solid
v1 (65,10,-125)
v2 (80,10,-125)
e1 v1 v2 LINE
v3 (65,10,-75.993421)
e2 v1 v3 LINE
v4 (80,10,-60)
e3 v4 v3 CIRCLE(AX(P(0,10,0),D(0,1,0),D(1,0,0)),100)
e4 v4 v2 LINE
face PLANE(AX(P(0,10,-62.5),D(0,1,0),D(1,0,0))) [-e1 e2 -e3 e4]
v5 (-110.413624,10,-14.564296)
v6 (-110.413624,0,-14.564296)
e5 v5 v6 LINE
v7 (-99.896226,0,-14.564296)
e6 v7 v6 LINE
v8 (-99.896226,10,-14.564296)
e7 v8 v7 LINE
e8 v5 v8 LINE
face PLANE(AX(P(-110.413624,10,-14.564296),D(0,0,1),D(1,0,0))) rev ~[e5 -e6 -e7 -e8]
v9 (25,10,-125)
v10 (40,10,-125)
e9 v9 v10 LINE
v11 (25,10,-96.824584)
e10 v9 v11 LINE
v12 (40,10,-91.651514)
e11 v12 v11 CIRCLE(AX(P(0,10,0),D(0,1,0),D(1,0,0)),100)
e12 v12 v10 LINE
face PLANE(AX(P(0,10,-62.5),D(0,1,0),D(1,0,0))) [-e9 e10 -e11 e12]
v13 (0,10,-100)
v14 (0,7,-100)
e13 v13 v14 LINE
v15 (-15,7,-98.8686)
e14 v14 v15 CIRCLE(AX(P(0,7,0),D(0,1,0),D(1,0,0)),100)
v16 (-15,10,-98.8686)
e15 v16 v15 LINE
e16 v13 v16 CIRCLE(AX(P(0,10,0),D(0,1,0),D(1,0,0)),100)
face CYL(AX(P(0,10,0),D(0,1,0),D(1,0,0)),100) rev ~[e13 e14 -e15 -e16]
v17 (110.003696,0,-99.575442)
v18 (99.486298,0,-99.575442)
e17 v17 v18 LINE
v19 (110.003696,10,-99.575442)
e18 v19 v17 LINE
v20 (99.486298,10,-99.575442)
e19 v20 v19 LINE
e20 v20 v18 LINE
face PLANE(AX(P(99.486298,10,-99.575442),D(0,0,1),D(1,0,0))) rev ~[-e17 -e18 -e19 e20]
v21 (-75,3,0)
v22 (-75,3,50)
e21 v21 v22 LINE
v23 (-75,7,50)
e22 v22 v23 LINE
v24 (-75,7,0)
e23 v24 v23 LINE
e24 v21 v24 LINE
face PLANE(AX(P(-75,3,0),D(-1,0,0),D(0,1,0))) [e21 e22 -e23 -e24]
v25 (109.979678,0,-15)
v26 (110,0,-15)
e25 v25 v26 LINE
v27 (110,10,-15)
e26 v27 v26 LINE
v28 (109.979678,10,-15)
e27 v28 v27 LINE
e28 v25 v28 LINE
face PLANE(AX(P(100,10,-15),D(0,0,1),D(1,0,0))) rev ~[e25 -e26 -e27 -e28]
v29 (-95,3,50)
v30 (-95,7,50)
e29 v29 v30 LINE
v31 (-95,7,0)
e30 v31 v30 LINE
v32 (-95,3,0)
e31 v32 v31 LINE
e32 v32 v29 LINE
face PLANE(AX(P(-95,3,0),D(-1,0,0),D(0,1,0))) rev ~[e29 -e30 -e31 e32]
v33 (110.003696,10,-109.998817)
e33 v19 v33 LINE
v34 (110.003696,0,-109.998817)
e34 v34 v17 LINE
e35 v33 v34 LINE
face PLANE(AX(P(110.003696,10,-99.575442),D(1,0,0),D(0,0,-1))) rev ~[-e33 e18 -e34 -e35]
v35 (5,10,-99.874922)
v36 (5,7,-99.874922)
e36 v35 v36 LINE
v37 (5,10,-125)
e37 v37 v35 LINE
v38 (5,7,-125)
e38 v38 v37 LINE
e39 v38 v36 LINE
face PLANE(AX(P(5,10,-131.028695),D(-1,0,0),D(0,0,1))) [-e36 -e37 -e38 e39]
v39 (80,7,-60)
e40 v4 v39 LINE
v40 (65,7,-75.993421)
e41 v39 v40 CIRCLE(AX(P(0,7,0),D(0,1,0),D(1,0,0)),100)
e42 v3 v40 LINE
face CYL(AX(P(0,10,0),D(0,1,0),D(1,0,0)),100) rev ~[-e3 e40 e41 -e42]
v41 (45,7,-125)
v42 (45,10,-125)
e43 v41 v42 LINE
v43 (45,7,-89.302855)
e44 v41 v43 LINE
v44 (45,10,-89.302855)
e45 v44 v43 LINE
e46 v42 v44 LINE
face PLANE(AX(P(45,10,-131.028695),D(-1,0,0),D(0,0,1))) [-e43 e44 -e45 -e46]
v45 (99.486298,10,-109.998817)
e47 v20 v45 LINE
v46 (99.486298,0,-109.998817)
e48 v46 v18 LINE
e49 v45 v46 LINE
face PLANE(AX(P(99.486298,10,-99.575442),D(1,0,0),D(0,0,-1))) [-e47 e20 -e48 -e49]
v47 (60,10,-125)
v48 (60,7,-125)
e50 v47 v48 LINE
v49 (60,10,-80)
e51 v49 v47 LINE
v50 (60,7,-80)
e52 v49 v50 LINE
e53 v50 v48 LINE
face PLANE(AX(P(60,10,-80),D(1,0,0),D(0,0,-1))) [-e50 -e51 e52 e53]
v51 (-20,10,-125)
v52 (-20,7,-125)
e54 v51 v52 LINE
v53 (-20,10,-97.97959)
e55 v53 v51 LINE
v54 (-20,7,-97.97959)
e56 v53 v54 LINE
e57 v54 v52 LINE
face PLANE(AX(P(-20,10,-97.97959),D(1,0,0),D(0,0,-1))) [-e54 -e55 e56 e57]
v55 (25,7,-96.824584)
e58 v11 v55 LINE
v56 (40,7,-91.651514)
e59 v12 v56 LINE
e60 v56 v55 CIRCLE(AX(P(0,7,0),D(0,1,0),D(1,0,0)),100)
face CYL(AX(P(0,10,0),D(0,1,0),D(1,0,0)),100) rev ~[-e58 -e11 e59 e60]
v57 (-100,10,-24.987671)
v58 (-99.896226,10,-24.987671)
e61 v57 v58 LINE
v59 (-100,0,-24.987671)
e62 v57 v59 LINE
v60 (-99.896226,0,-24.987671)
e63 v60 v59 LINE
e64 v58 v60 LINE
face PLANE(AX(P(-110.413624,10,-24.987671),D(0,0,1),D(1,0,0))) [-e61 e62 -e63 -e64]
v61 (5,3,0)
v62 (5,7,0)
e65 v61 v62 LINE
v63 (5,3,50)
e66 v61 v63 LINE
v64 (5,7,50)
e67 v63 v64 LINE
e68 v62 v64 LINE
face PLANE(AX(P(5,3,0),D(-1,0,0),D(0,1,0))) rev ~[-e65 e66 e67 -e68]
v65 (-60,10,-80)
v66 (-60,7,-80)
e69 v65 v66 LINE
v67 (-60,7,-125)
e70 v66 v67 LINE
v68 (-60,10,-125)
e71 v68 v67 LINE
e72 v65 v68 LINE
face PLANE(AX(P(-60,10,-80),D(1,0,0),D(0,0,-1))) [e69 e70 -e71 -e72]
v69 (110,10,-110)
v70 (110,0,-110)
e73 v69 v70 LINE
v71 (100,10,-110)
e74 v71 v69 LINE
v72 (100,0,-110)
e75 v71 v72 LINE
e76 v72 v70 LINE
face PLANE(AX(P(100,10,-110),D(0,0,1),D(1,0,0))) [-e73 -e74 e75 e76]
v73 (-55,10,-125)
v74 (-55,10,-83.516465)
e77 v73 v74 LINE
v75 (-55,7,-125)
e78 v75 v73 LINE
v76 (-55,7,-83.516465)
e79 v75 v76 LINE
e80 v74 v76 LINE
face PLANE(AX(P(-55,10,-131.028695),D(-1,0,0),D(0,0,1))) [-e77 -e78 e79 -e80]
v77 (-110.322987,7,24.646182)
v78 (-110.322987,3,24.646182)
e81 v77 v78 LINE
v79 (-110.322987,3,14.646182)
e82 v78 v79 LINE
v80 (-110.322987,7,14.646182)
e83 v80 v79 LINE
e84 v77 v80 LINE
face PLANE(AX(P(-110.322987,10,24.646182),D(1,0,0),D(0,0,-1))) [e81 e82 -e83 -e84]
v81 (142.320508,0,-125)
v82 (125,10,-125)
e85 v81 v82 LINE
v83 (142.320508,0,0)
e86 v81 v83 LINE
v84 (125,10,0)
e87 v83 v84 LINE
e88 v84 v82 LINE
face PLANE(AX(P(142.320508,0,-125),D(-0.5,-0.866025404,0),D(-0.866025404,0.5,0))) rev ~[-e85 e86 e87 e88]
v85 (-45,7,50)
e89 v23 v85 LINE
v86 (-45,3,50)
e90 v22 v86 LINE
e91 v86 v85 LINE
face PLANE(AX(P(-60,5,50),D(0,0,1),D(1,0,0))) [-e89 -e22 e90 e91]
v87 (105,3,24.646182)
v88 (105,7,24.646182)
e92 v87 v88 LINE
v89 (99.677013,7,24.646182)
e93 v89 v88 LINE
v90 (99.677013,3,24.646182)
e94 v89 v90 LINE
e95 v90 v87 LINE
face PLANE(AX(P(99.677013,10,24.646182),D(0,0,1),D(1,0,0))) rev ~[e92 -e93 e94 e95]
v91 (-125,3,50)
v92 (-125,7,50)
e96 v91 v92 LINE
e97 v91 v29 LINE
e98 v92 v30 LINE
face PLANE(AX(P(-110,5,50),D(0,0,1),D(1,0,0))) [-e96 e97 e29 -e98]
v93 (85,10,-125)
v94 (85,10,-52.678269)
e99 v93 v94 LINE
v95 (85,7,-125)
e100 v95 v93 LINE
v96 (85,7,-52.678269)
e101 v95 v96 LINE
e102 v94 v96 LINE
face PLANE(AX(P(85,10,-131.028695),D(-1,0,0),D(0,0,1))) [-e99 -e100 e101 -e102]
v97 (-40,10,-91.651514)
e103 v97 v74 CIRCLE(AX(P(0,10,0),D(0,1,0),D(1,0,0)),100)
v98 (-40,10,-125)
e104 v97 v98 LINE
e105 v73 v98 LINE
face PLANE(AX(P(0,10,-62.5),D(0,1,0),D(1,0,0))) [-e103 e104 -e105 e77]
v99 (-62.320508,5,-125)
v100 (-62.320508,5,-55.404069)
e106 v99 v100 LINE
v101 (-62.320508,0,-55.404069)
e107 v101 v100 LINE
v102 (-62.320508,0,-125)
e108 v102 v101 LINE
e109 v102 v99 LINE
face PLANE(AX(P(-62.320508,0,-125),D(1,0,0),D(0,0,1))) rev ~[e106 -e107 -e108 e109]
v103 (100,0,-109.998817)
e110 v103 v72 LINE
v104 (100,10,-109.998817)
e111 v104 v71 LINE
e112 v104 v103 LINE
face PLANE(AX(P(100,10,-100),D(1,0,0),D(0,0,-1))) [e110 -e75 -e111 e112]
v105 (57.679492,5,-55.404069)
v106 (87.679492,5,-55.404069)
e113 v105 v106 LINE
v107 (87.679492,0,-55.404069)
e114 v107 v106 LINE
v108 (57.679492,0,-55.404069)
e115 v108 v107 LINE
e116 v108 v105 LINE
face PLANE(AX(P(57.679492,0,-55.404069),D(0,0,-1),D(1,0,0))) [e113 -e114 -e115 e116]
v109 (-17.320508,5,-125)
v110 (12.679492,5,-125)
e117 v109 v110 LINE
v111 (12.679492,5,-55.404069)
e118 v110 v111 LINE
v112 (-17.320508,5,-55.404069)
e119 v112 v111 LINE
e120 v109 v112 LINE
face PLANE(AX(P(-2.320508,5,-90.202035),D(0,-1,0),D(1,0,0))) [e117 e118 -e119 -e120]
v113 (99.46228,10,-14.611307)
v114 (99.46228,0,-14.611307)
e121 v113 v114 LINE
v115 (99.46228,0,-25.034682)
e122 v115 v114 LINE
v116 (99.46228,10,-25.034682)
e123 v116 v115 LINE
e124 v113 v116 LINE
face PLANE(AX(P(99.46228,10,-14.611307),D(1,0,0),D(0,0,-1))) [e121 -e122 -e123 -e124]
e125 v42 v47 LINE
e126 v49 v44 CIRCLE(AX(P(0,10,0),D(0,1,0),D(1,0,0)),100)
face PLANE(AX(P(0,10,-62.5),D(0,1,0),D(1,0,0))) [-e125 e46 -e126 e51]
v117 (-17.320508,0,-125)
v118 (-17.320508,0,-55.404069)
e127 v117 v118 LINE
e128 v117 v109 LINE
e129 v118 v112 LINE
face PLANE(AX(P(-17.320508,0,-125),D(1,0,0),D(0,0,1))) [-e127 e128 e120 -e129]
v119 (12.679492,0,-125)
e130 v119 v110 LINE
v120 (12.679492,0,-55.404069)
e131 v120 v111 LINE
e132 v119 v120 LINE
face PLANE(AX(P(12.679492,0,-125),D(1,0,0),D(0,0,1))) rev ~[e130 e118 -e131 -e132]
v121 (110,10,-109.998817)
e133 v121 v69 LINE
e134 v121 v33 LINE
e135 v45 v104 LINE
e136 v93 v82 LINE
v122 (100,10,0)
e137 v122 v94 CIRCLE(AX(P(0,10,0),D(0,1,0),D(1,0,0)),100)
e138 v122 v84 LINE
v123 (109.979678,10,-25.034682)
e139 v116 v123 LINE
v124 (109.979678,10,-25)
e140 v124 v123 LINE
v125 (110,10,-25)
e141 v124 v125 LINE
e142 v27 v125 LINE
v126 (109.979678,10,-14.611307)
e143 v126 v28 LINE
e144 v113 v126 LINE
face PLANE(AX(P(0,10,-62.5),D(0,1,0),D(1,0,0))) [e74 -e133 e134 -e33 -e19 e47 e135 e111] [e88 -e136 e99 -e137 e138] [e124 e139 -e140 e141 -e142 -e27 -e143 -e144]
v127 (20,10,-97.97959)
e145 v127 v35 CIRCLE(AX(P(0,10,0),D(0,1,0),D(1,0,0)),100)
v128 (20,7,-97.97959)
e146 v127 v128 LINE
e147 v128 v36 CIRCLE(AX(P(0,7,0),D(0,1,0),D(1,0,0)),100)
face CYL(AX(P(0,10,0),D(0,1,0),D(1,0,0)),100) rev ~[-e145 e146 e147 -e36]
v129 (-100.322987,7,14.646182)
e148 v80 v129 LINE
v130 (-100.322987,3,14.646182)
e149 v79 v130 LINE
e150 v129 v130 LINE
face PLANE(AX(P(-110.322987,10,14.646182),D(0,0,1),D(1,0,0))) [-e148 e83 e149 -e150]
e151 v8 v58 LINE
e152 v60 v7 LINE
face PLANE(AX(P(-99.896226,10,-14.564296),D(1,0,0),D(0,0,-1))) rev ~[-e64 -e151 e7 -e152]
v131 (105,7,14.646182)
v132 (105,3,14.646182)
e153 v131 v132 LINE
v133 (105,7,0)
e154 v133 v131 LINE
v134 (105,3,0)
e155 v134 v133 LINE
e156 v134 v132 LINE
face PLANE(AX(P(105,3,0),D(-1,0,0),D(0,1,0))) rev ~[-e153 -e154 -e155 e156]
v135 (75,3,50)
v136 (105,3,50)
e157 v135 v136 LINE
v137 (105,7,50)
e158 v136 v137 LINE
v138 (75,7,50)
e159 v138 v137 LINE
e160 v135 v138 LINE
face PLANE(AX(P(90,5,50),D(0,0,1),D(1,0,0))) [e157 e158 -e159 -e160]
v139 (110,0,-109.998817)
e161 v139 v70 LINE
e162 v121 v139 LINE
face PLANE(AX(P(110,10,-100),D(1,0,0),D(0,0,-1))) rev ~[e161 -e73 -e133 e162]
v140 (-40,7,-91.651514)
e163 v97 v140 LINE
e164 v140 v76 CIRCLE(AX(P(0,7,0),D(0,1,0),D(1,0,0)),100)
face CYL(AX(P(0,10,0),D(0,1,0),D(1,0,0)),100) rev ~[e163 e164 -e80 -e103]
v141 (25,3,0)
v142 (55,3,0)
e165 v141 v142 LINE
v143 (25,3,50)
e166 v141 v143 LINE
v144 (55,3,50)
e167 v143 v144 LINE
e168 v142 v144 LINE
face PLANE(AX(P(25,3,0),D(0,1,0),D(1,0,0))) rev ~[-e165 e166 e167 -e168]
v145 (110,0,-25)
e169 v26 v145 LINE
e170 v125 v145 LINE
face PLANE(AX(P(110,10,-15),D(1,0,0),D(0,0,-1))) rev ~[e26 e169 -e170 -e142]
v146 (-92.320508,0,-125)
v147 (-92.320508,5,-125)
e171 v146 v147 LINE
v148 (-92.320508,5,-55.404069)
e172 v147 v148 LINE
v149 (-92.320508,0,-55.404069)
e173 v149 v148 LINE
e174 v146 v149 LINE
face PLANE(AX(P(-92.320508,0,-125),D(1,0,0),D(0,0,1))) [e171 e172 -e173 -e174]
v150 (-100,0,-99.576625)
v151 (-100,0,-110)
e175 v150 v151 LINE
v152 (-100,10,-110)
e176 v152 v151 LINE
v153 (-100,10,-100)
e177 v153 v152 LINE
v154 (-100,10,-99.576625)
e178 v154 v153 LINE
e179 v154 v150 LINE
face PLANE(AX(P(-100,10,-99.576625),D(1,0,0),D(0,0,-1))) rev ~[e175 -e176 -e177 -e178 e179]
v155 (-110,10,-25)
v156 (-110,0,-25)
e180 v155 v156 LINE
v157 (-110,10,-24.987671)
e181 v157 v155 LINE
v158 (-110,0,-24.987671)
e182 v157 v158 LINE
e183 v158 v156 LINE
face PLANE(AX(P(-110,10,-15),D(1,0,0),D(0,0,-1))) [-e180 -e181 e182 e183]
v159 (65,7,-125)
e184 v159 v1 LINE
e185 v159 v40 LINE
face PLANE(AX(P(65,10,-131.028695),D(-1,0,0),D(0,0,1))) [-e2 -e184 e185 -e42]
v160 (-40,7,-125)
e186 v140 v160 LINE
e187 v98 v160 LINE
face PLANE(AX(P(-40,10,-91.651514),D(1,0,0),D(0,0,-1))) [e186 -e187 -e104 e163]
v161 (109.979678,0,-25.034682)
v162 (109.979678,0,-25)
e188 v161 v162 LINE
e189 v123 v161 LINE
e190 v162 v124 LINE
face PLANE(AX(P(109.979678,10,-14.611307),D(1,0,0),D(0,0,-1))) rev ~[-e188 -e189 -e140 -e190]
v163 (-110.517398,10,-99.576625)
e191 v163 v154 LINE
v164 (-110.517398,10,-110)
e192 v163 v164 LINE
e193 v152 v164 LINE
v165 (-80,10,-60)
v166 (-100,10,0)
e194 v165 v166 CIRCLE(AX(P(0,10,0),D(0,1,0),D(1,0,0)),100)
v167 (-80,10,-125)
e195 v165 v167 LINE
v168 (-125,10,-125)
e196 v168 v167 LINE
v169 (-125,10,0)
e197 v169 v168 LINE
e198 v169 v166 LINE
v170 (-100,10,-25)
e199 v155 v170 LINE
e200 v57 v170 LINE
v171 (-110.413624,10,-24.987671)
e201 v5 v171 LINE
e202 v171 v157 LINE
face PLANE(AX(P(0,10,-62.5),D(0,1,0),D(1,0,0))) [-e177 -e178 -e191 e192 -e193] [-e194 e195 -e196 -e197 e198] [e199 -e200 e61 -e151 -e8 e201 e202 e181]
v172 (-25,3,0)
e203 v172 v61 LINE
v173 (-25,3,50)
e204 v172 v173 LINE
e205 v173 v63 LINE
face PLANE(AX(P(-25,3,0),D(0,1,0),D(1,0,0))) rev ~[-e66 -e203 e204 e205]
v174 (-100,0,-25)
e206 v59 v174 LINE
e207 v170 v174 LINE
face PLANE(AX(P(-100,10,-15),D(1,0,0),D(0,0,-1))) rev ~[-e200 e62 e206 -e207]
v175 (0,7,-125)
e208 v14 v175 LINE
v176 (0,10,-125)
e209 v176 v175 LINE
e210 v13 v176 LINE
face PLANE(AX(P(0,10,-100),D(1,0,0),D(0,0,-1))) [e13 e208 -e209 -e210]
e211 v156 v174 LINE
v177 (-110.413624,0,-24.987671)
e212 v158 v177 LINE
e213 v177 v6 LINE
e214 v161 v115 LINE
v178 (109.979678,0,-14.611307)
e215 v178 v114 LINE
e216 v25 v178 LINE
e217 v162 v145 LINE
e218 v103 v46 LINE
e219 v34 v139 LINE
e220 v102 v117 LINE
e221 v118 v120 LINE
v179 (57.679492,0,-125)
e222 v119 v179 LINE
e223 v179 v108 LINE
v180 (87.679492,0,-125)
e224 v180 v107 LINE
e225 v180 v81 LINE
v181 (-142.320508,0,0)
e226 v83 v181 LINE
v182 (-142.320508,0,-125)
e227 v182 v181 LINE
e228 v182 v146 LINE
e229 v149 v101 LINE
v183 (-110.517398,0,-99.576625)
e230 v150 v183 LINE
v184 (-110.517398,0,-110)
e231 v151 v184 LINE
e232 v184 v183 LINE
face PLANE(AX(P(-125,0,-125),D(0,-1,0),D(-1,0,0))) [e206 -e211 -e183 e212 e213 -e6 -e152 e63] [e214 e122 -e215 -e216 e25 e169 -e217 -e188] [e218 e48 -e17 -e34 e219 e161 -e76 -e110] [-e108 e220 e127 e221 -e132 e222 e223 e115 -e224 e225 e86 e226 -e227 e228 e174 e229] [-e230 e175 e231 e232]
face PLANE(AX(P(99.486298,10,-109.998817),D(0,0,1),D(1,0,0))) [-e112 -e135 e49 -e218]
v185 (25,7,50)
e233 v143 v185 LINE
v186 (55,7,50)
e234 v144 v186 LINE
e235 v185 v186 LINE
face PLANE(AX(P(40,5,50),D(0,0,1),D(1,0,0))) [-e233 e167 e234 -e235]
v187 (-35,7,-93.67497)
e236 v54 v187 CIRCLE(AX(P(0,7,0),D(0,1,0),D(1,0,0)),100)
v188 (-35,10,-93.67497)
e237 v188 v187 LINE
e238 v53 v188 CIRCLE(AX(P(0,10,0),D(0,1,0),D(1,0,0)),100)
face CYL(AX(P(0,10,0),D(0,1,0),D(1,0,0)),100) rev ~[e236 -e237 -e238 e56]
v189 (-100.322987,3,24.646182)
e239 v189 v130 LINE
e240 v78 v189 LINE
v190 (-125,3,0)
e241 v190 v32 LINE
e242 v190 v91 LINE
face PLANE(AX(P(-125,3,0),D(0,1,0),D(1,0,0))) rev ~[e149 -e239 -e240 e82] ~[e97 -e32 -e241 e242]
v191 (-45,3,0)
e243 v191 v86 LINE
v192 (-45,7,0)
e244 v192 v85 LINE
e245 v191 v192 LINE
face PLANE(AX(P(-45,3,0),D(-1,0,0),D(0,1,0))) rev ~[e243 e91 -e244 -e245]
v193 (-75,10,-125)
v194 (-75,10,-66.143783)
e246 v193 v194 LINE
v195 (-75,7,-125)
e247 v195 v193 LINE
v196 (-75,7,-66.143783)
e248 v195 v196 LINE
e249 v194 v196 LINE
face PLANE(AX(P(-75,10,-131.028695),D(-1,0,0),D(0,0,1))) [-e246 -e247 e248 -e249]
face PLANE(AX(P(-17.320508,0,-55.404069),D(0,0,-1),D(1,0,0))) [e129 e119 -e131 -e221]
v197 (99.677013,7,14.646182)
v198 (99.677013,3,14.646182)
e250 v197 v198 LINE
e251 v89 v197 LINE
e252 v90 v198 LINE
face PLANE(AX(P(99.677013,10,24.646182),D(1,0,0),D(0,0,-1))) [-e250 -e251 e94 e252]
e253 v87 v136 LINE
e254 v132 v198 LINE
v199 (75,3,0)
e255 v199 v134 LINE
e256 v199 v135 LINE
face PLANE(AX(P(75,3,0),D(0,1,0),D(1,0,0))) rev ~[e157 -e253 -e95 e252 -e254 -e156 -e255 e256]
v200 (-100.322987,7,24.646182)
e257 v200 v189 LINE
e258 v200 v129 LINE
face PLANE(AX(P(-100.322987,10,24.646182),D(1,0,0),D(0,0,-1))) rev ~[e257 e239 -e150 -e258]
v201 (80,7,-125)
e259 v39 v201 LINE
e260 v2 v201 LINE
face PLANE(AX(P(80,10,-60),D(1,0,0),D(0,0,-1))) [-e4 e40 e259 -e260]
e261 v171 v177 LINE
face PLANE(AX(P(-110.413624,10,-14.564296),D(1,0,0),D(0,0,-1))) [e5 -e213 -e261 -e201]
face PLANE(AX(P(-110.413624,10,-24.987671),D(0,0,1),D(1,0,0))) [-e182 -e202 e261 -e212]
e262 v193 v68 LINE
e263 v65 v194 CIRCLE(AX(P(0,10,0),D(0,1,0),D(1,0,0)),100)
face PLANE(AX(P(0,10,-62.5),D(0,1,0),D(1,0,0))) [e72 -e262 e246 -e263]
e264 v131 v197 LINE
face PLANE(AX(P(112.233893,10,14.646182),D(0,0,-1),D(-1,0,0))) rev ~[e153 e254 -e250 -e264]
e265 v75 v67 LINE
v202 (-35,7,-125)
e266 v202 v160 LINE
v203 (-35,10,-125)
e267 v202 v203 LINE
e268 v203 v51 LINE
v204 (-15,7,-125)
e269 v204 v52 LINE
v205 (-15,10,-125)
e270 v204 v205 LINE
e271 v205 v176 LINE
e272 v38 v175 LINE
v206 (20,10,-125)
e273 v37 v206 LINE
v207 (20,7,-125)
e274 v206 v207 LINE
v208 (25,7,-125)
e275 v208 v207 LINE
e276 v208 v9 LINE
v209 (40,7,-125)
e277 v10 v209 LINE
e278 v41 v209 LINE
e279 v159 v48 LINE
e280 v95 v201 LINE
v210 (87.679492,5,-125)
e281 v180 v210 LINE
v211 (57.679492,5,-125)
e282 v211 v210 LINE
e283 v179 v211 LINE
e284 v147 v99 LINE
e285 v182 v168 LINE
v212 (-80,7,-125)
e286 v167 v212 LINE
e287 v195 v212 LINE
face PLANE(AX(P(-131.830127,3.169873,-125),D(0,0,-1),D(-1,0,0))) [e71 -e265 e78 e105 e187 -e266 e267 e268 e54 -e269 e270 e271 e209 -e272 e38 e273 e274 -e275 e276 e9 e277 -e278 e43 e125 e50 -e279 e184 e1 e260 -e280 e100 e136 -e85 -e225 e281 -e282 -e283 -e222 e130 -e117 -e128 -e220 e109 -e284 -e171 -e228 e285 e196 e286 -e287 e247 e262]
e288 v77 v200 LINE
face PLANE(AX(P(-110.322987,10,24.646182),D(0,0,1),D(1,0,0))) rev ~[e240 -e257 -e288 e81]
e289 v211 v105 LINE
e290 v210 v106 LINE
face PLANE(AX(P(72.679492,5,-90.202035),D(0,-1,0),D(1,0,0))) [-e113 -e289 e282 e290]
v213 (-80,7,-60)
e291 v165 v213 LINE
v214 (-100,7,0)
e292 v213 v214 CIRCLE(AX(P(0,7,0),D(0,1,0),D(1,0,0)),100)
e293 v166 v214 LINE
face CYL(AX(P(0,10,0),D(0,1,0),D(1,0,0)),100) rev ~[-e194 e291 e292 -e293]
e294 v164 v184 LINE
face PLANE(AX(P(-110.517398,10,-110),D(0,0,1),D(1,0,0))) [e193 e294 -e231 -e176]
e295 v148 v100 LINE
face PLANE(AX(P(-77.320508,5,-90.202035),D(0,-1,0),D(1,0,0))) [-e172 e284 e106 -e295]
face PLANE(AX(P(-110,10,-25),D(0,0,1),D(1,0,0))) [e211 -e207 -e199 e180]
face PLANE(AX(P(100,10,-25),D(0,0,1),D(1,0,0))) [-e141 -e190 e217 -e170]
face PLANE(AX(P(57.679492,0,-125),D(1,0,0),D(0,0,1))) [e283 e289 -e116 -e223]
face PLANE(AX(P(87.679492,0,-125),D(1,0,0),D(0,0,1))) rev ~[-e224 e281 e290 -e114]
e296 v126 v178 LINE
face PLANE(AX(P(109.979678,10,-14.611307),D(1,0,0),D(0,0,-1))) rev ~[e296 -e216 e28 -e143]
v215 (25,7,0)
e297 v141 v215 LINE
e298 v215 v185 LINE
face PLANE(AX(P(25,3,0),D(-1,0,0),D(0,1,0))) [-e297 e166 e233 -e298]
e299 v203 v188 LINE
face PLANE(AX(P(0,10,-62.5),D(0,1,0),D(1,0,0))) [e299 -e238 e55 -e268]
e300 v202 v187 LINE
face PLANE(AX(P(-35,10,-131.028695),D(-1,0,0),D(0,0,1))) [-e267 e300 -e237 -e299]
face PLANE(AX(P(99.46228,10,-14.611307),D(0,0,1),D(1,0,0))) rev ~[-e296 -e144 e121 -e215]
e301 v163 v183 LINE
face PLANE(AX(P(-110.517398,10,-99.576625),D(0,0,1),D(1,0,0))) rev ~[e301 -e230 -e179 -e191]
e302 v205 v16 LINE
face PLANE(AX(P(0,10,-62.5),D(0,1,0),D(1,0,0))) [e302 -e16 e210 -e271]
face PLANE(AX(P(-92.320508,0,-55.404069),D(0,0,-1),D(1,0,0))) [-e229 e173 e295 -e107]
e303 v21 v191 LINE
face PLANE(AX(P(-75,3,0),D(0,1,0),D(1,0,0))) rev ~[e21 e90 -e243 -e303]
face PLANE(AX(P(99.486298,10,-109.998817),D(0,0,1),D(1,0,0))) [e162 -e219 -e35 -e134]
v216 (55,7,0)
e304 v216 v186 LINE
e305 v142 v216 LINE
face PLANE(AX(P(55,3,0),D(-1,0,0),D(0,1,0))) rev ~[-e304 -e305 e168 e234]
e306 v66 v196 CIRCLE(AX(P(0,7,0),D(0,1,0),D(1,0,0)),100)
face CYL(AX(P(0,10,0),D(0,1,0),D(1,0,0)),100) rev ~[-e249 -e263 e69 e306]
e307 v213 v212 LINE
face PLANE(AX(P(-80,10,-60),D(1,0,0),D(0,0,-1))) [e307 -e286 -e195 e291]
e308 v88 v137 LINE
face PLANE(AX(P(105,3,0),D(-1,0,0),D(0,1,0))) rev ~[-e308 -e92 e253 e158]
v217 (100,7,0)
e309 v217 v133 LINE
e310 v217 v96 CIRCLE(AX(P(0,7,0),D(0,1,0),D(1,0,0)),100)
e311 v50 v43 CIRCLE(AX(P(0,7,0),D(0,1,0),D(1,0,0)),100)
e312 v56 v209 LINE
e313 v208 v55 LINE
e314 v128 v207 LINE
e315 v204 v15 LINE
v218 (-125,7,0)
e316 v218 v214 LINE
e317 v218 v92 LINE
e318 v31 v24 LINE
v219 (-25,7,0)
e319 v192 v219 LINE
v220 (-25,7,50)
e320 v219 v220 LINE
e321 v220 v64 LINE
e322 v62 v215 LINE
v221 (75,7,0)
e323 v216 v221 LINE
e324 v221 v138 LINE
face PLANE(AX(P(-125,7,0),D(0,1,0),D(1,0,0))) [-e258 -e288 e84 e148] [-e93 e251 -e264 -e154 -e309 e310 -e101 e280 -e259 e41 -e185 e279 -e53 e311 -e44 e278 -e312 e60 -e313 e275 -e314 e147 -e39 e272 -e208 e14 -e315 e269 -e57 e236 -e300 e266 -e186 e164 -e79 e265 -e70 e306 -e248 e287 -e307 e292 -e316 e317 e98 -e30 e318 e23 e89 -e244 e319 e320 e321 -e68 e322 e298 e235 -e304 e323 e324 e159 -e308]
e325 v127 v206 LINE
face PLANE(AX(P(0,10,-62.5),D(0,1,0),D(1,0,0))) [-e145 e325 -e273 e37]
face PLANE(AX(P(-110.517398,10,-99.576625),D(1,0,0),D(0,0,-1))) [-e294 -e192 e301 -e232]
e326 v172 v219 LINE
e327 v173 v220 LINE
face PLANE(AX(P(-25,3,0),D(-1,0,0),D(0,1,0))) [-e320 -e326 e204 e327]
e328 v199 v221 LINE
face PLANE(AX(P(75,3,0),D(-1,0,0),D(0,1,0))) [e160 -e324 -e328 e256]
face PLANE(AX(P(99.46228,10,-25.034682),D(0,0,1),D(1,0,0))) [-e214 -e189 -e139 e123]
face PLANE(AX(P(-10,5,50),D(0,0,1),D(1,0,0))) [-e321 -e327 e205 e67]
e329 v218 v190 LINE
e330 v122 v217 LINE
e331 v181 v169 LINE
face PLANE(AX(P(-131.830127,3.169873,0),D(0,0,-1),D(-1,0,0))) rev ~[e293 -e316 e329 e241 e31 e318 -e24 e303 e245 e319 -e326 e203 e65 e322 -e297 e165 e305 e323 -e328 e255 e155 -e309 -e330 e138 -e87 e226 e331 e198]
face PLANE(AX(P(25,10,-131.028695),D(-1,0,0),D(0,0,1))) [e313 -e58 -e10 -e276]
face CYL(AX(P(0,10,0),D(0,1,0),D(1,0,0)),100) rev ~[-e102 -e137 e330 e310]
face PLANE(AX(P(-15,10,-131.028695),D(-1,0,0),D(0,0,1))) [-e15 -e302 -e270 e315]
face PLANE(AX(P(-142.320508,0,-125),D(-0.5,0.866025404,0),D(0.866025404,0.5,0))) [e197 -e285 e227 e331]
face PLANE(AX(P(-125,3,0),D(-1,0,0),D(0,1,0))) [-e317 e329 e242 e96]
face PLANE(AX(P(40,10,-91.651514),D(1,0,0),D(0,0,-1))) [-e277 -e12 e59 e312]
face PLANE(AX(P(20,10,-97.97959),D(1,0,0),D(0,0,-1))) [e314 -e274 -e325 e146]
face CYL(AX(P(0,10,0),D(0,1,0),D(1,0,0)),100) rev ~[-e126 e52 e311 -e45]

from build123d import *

# Parameters (mm, degrees)
SKETCH_1_W          = 250
SKETCH_1_H          = 125
EXTRUDE_1_DEPTH     = 10
SKETCH_5_W          = 10
SKETCH_5_H          = 10
CUT_EXTRUDE_1_DEPTH = 10
CUT_EXTRUDE_2_DEPTH = 3
SKETCH_8_W          = 30
SKETCH_8_H          = 4
EXTRUDE_2_DEPTH     = 50
SKETCH_11_W         = 10
SKETCH_11_H         = 10
CUT_EXTRUDE_4_DEPTH = 10
CUT_EXTRUDE_5_DEPTH = 3
EXTRUDE_3_DEPTH     = 125
SKETCH_14_W         = 30
SKETCH_14_H         = 69.595930906
CUT_EXTRUDE_6_DEPTH = 5
SKETCH_16_W         = 10.517397933
SKETCH_16_H         = 10.423374962
SKETCH_16_H_2       = 10.423374961
SKETCH_16_W_2       = 10.517397932
CUT_EXTRUDE_7_DEPTH = 190.684282477


with BuildPart() as part:
    # 草图1 → 凸台-拉伸1 (new body)
    with BuildSketch(Plane(origin=(0, 0, 0), x_dir=(1, 0, 0), z_dir=(0, 1, 0))):
        with Locations((0, 62.5)):
            Rectangle(SKETCH_1_W, SKETCH_1_H)
    extrude(amount=EXTRUDE_1_DEPTH)

    # 草图5 → 切除-拉伸1 (cut)
    with BuildSketch(Plane(origin=(0, 10, 0), x_dir=(1, 0, 0), z_dir=(0, 1, 0))):
        with Locations((-105, 105)):
            Rectangle(SKETCH_5_W, SKETCH_5_H)
        with Locations((-105, 20)):
            Rectangle(SKETCH_5_W, SKETCH_5_H)
        with Locations((105, 105)):
            Rectangle(SKETCH_5_W, SKETCH_5_H)
        with Locations((105, 20)):
            Rectangle(SKETCH_5_W, SKETCH_5_H)
    extrude(amount=-CUT_EXTRUDE_1_DEPTH, mode=Mode.SUBTRACT)

    # 草图6 → 切除-拉伸2 (cut)
    with BuildSketch(Plane(origin=(0, 10, 0), x_dir=(1, 0, 0), z_dir=(0, 1, 0))):
        with BuildLine():
            Line((-100, 0), (100, 0))
            ThreePointArc((100, 0), (0, 100), (-100, 0))
        make_face()
    extrude(amount=-CUT_EXTRUDE_2_DEPTH, mode=Mode.SUBTRACT)

    # 草图8 → 凸台-拉伸2 (add)
    with BuildSketch(Plane.XY):
        with Locations((-110, 5)):
            Rectangle(SKETCH_8_W, SKETCH_8_H)
        with Locations((-60, 5)):
            Rectangle(SKETCH_8_W, SKETCH_8_H)
        with Locations((-10, 5)):
            Rectangle(SKETCH_8_W, SKETCH_8_H)
        with Locations((40, 5)):
            Rectangle(SKETCH_8_W, SKETCH_8_H)
        with Locations((90, 5)):
            Rectangle(SKETCH_8_W, SKETCH_8_H)
    extrude(amount=EXTRUDE_2_DEPTH)

    # 草图11 → 切除-拉伸4 (cut)
    with BuildSketch(Plane(origin=(0, 10, 0), x_dir=(1, 0, 0), z_dir=(0, 1, 0))):
        Polygon((104.677013389, -14.646181821), (112.233893295, -14.646181821), (112.233893295, -24.646181821), (104.677013389, -24.646181821), (99.677013389, -24.646181821), (99.677013389, -14.646181821), align=None)
        with Locations((-105.322986611, -19.646181821)):
            Rectangle(SKETCH_11_W, SKETCH_11_H)
    extrude(amount=-CUT_EXTRUDE_4_DEPTH, mode=Mode.SUBTRACT)

    # 草图12 → 切除-拉伸5 (cut)
    with BuildSketch(Plane(origin=(0, 10, 0), x_dir=(1, 0, 0), z_dir=(0, 1, 0))):
        with BuildLine():
            Line((-80, 131.028694586), (-75, 131.028694586))
            Line((-75, 131.028694586), (-75, 66.143782777))
            ThreePointArc((-75, 66.143782777), (-77.560856859, 63.121418578), (-80, 60))
            Line((-80, 60), (-80, 131.028694586))
        make_face()
        with BuildLine():
            Line((85, 131.028694586), (85, 52.678268764))
            ThreePointArc((85, 52.678268764), (82.581183917, 56.394574765), (80, 60))
            Line((80, 60), (80, 131.028694586))
            Line((80, 131.028694586), (85, 131.028694586))
        make_face()
        with BuildLine():
            Line((65, 131.028694586), (65, 75.993420768))
            ThreePointArc((65, 75.993420768), (62.532097112, 78.036765891), (60, 80))
            Line((60, 80), (60, 131.028694586))
            Line((60, 131.028694586), (65, 131.028694586))
        make_face()
        with BuildLine():
            Line((45, 131.028694586), (45, 89.302855497))
            ThreePointArc((45, 89.302855497), (42.516221011, 90.511717202), (40, 91.651513899))
            Line((40, 91.651513899), (40, 131.028694586))
            Line((40, 131.028694586), (45, 131.028694586))
        make_face()
        with BuildLine():
            Line((25, 131.028694586), (25, 96.824583655))
            ThreePointArc((25, 96.824583655), (22.507410108, 97.434164903), (20, 97.979589711))
            Line((20, 97.979589711), (20, 131.028694586))
            Line((20, 131.028694586), (25, 131.028694586))
        make_face()
        with BuildLine():
            Line((5, 131.028694586), (5, 99.874921777))
            ThreePointArc((5, 99.874921777), (2.500782106, 99.968725554), (0, 100))
            Line((0, 100), (0, 131.028694586))
            Line((0, 131.028694586), (5, 131.028694586))
        make_face()
        with BuildLine():
            Line((-15, 131.028694586), (-15, 98.868599666))
            ThreePointArc((-15, 98.868599666), (-17.505644366, 98.455839925), (-20, 97.979589711))
            Line((-20, 97.979589711), (-20, 131.028694586))
            Line((-20, 131.028694586), (-15, 131.028694586))
        make_face()
        with BuildLine():
            Line((-35, 131.028694586), (-35, 93.674969976))
            ThreePointArc((-35, 93.674969976), (-37.513645432, 92.696960071), (-40, 91.651513899))
            Line((-40, 91.651513899), (-40, 131.028694586))
            Line((-40, 131.028694586), (-35, 131.028694586))
        make_face()
        with BuildLine():
            Line((-55, 131.028694586), (-55, 83.516465442))
            ThreePointArc((-55, 83.516465442), (-57.526875305, 81.796446241), (-60, 80))
            Line((-60, 80), (-60, 131.028694586))
            Line((-60, 131.028694586), (-55, 131.028694586))
        make_face()
    extrude(amount=-CUT_EXTRUDE_5_DEPTH, mode=Mode.SUBTRACT)

    # 草图13 → 凸台-拉伸3 (add)
    with BuildSketch(Plane(origin=(0, 0, -125), x_dir=(-1, 0, 0), z_dir=(0, 0, -1))):
        Polygon((125, 10), (125, 0), (142.320508076, 0), align=None)
        Polygon((-125, 10), (-125, 0), (-142.320508076, 0), align=None)
    extrude(amount=-EXTRUDE_3_DEPTH)

    # 草图14 → 切除-拉伸6 (cut)
    with BuildSketch(Plane.XZ):
        with Locations((-77.320508076, -90.202034547)):
            Rectangle(SKETCH_14_W, SKETCH_14_H)
        with Locations((-2.320508076, -90.202034547)):
            Rectangle(SKETCH_14_W, SKETCH_14_H)
        with Locations((72.679491924, -90.202034547)):
            Rectangle(SKETCH_14_W, SKETCH_14_H)
    extrude(amount=-CUT_EXTRUDE_6_DEPTH, mode=Mode.SUBTRACT)

    # 草图16 → 切除-拉伸7 (cut, through all)
    with BuildSketch(Plane(origin=(0, 10, 0), x_dir=(1, 0, 0), z_dir=(0, 1, 0))):
        with Locations((-105.258698967, 104.788312519)):
            Rectangle(SKETCH_16_W, SKETCH_16_H)
        with Locations((104.720979462, 19.822994084)):
            Rectangle(SKETCH_16_W, SKETCH_16_H_2)
        with Locations((-105.154924979, 19.775983857)):
            Rectangle(SKETCH_16_W_2, SKETCH_16_H)
        with Locations((104.744997222, 104.787129461)):
            Rectangle(SKETCH_16_W, SKETCH_16_H)
    extrude(amount=-CUT_EXTRUDE_7_DEPTH, mode=Mode.SUBTRACT)


solid = part.part
